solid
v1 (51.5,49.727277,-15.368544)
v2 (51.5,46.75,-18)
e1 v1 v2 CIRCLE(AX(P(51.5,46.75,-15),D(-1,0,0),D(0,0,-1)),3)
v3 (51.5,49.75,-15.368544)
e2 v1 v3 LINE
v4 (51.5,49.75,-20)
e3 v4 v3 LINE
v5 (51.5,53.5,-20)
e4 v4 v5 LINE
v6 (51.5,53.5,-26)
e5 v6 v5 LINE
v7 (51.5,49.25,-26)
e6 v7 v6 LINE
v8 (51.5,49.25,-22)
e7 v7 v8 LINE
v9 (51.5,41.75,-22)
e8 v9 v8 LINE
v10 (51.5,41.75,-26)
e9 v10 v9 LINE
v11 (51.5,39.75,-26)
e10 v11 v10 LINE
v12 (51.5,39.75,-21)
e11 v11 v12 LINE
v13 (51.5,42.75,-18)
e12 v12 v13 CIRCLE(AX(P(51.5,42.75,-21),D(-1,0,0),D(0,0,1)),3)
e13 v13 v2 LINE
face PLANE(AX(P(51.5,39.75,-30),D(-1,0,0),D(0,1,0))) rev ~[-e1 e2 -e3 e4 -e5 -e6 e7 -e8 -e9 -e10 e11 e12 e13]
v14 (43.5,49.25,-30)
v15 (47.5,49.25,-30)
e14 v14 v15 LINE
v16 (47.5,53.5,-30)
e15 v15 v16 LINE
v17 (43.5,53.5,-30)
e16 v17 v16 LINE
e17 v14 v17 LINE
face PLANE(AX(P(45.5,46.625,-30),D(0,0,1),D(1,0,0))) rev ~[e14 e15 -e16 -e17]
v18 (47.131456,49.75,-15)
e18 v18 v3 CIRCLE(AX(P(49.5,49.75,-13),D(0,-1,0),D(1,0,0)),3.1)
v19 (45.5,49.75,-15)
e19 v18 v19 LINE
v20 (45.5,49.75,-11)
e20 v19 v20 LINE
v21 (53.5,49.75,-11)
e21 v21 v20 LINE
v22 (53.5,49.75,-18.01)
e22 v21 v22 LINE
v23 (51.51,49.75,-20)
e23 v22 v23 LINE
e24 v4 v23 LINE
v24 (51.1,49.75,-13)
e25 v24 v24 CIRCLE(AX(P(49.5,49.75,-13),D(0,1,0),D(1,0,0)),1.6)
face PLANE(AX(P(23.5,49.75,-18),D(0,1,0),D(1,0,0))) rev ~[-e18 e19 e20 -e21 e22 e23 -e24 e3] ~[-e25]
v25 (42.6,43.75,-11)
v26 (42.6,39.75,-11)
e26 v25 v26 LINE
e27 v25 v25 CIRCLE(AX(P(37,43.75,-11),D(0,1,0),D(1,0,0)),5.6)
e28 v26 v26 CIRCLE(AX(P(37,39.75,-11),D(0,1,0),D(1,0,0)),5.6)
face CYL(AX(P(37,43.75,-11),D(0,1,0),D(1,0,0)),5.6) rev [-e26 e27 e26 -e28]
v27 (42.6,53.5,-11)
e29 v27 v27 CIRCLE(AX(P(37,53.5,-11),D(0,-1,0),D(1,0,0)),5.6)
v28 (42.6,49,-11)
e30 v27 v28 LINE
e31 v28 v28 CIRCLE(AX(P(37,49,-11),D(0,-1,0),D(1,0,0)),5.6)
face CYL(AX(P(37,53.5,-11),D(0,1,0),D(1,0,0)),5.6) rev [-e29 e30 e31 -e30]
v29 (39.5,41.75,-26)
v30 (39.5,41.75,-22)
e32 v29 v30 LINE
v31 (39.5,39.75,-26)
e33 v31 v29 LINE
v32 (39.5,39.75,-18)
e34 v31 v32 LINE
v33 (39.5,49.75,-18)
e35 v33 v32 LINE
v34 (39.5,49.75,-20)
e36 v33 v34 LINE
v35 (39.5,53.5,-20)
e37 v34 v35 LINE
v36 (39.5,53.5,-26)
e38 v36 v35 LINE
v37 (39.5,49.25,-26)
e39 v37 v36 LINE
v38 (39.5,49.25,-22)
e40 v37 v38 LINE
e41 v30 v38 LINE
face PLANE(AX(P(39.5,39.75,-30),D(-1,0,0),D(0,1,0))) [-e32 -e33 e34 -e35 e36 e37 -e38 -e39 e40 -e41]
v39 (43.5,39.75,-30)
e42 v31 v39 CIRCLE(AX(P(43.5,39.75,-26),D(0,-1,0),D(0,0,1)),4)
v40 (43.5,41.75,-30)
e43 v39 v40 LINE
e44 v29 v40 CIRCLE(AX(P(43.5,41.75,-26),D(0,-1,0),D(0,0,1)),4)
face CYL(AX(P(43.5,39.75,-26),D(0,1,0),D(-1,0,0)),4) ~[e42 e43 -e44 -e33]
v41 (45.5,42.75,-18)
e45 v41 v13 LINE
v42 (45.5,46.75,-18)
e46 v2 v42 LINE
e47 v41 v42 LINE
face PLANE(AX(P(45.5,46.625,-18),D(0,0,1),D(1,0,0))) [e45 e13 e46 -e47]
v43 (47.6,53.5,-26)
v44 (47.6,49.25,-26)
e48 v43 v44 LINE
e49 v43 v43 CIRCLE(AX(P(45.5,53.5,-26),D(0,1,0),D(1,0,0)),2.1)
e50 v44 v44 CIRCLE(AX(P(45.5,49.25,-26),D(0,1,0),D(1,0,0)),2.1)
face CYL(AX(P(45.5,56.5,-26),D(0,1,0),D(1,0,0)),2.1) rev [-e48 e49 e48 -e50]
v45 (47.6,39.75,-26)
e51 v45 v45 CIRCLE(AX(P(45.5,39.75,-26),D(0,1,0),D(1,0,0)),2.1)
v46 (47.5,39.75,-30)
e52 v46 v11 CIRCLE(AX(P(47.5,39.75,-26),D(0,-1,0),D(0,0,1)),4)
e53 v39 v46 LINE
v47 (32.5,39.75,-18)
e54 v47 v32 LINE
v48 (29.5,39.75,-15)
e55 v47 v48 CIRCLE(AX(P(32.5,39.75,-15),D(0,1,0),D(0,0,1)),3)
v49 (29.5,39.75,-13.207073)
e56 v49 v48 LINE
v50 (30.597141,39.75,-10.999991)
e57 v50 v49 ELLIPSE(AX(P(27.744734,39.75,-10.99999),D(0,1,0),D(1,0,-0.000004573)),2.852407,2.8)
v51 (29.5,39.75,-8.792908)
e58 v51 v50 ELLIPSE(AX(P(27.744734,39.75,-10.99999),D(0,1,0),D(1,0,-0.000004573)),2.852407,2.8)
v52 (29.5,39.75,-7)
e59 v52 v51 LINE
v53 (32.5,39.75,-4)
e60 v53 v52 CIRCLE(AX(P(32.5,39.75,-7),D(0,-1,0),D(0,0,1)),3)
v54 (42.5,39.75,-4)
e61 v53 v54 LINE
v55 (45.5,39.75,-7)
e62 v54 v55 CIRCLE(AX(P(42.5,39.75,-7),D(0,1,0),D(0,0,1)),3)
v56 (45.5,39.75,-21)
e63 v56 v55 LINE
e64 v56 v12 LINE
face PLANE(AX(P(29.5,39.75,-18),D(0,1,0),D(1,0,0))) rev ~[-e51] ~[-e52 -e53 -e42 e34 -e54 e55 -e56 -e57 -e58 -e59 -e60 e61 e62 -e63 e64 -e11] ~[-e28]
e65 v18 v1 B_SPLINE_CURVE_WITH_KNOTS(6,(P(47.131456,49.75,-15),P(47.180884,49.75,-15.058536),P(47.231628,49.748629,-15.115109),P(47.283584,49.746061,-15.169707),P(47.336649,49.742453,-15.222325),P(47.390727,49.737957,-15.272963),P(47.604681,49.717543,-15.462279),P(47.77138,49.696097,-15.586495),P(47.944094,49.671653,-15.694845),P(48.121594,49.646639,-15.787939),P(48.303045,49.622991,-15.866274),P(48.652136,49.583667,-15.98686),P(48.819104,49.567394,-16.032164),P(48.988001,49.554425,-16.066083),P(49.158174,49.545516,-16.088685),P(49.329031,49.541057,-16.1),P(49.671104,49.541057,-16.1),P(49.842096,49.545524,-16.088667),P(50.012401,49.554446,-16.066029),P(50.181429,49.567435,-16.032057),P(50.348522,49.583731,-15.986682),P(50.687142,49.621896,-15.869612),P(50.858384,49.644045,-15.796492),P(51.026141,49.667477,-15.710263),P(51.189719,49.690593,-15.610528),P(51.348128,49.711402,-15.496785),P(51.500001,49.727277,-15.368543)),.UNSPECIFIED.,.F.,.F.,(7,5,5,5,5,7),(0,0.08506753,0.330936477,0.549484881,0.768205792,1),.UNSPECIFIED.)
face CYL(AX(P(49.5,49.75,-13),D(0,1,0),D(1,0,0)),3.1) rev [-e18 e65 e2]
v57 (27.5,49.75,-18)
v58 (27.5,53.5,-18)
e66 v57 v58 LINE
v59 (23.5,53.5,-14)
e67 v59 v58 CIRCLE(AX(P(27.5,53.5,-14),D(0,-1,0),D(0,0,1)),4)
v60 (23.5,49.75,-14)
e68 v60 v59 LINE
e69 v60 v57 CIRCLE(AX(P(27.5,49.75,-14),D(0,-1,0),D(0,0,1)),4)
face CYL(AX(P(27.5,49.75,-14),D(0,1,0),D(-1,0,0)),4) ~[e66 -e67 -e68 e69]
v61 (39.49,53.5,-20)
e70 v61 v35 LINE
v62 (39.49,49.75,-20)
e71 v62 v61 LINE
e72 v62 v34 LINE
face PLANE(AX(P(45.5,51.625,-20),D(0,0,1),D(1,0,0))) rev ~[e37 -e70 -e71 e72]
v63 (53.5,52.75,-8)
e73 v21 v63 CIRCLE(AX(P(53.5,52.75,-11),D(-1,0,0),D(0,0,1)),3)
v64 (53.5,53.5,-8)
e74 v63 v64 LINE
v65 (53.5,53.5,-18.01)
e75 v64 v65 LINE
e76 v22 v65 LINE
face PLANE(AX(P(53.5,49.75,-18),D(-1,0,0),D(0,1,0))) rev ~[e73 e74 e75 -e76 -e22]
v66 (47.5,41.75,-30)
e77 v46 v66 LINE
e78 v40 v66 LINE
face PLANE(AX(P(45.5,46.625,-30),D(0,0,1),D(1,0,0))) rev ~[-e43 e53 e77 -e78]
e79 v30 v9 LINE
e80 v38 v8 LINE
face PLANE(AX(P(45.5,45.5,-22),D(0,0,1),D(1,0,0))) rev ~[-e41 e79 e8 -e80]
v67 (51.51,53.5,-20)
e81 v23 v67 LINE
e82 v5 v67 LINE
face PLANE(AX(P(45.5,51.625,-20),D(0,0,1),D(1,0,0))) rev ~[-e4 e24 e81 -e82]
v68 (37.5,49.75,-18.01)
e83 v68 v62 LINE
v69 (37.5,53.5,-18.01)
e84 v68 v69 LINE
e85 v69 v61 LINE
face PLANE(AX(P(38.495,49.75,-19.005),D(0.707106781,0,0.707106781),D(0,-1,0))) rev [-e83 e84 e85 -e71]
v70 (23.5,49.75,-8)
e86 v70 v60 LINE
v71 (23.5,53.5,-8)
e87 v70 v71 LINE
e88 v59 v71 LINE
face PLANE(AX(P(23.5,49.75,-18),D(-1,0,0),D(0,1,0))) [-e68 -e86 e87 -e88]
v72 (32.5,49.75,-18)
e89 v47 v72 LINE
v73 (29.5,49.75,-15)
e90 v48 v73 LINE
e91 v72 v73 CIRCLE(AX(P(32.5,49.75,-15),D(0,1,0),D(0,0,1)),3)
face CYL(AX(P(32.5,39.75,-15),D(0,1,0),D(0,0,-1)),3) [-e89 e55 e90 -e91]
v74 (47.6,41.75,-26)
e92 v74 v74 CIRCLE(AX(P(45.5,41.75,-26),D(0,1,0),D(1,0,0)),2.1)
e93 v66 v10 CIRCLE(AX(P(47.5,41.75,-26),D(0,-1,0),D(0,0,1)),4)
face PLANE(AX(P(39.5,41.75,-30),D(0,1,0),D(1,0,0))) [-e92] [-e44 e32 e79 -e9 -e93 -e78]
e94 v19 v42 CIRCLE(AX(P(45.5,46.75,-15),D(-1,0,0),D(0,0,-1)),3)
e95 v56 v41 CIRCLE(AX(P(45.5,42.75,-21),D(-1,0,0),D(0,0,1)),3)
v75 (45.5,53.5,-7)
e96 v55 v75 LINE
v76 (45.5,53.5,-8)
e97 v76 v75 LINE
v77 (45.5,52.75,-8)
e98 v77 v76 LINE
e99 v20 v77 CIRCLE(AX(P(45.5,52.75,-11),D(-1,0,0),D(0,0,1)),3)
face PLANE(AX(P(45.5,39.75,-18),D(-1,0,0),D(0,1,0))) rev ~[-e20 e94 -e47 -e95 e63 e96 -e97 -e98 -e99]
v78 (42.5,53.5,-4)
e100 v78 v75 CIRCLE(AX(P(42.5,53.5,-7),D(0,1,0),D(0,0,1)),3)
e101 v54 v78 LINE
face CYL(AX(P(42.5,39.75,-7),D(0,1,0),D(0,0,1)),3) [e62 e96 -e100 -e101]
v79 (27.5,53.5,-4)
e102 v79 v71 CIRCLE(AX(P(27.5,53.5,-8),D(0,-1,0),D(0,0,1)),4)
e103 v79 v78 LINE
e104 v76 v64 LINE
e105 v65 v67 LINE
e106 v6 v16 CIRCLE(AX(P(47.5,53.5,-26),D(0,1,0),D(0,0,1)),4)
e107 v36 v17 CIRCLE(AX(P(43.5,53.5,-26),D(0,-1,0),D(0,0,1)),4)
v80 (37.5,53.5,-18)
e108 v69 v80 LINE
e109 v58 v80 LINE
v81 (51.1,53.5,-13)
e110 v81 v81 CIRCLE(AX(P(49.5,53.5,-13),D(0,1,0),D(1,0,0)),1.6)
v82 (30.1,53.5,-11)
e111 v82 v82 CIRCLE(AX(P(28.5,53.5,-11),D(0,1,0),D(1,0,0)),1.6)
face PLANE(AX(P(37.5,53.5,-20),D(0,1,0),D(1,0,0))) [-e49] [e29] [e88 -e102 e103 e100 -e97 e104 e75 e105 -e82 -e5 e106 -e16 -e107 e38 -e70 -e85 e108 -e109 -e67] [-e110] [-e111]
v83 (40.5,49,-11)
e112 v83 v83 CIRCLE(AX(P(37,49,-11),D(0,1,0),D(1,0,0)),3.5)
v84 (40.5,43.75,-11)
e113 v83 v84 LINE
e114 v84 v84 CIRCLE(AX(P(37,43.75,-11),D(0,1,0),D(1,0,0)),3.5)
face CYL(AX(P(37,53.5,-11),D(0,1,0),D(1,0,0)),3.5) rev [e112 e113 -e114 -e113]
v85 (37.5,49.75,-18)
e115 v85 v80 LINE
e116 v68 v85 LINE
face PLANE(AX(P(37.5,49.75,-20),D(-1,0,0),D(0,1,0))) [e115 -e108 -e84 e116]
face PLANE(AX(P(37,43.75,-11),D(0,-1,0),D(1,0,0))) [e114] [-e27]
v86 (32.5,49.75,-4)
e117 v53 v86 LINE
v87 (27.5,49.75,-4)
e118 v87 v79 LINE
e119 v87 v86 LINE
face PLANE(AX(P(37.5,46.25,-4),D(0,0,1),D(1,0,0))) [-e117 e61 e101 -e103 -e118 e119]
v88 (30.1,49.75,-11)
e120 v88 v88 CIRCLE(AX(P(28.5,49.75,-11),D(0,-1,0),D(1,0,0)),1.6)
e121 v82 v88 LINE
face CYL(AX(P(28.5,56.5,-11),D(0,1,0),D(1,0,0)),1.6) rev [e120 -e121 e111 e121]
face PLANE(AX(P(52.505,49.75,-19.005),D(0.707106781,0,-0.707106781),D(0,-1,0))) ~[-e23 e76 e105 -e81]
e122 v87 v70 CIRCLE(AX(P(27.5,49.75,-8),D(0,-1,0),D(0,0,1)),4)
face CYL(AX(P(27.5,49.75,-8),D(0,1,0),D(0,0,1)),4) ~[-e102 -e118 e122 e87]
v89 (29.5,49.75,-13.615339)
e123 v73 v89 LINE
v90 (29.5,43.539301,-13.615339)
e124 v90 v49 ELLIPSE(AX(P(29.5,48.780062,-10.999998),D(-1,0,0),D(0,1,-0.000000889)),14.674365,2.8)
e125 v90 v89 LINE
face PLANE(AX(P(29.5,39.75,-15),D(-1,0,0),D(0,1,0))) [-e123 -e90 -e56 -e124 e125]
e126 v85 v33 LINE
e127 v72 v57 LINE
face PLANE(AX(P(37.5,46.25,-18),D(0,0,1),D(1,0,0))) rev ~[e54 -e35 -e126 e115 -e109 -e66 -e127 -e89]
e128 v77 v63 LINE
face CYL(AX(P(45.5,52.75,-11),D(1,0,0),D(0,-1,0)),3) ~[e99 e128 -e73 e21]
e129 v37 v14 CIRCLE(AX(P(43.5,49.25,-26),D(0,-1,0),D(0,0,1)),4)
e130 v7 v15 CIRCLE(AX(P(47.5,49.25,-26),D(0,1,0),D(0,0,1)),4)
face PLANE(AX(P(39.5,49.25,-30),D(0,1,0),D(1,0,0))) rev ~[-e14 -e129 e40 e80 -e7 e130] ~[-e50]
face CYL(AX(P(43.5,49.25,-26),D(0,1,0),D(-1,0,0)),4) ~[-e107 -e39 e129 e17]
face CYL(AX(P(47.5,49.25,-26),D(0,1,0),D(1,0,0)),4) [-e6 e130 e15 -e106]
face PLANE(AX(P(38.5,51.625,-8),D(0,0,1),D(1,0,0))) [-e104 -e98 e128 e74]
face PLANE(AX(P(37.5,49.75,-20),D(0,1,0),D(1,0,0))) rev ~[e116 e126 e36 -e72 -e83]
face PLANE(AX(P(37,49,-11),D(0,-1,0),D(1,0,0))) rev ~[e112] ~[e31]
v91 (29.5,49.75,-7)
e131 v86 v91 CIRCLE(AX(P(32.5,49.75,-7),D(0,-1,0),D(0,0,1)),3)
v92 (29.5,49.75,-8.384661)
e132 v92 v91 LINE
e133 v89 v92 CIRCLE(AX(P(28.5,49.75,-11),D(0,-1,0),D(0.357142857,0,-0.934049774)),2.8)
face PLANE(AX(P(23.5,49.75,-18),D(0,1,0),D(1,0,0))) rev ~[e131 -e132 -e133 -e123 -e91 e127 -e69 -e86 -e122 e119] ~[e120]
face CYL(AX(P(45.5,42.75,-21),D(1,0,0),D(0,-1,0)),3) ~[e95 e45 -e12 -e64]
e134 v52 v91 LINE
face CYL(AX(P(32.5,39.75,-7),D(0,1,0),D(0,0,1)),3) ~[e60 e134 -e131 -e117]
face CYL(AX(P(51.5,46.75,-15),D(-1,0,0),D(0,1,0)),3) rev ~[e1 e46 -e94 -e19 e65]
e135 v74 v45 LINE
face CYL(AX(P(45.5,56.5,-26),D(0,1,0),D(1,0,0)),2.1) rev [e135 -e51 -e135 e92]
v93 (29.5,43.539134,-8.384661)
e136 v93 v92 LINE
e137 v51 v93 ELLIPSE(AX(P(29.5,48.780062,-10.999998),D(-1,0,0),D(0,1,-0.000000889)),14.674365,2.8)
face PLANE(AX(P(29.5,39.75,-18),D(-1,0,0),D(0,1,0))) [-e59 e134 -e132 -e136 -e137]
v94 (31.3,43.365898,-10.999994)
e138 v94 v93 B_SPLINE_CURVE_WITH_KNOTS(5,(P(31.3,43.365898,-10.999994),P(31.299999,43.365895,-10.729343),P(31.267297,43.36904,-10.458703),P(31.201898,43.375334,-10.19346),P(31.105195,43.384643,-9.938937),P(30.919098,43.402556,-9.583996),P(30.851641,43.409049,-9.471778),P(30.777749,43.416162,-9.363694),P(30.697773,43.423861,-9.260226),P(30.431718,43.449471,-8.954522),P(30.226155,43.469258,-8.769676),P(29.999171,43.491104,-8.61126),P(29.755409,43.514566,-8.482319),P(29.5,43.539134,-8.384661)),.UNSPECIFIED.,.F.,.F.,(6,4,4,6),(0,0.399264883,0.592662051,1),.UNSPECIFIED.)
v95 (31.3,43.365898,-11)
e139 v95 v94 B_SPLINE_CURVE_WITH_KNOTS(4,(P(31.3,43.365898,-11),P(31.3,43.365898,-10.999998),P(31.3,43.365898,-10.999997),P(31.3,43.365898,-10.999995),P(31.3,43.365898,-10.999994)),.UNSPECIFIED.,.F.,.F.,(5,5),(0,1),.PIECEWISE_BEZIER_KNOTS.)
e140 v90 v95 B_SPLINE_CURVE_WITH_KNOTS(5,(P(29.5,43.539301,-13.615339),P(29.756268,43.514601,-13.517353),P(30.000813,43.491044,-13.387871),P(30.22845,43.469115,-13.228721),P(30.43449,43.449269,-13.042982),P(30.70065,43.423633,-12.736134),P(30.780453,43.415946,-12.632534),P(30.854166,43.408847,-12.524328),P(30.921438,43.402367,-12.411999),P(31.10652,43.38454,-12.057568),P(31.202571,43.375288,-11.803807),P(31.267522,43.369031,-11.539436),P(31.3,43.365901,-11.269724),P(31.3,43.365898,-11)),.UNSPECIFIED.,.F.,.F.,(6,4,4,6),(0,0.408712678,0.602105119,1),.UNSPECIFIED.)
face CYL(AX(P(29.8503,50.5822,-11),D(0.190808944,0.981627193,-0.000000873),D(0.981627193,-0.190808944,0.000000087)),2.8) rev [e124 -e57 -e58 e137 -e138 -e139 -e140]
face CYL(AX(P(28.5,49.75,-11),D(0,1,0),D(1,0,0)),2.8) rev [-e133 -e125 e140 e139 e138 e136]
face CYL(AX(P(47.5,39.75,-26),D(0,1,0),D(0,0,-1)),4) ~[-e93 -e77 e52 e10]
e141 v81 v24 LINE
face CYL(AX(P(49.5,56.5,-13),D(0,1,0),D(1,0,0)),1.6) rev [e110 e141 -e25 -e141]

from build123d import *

# Parameters (mm, degrees)
CYLINDER873_R               = 3.1
CYLINDER873_DEPTH           = 5
CYLINDER873_ROLL_ANGLE      = 90
CYLINDER872_R               = 5.6
CYLINDER872_DEPTH           = 4.5
CYLINDER872_ROLL_ANGLE      = 90
CYLINDER871_R               = 5.6
CYLINDER871_DEPTH           = 4
CYLINDER871_ROLL_ANGLE      = 90
CYLINDER870_R               = 3.5
CYLINDER870_DEPTH           = 14
CYLINDER870_ROLL_ANGLE      = 90
CYLINDER866_R               = 1.6
CYLINDER866_DEPTH           = 20
CYLINDER866_ROLL_ANGLE      = 90
CYLINDER869_R               = 2.1
CYLINDER869_DEPTH           = 20
CYLINDER869_ROLL_ANGLE      = 90
CYLINDER868_R               = 1.6
CYLINDER868_DEPTH           = 6.75
CYLINDER868_ROLL_ANGLE      = 90
CYLINDER867_R               = 2.8
CYLINDER867_DEPTH           = 10
CYLINDER867_ROLL_ANGLE      = 90
BOX542_W                    = 16
BOX542_H                    = 13
BOX542_DEPTH                = 14
BOX539_W                    = 12
BOX539_H                    = 7.5
BOX539_DEPTH                = 8
BOX538_W                    = 12
BOX538_H                    = 13.75
BOX538_DEPTH                = 12
BOX540_W                    = 30
BOX540_H                    = 3.75
BOX540_DEPTH                = 10
BOX541_W                    = 22
BOX541_H                    = 3.75
BOX541_DEPTH                = 14
FILLET352_R                 = 4
FILLET353_R                 = 3
FILLET354_R                 = 3
FILLET355_R                 = 4
FILLET356_R                 = 3
BOX543_W                    = 16
BOX543_H                    = 3.75
BOX543_DEPTH                = 2
CHAMFER102_SIZE             = 1.99
CYLINDER877_R               = 2.8
CYLINDER877_DEPTH           = 11
CYLINDER877_ROLL_ANGLE      = 89.99995
CYLINDER877_PITCH_ANGLE     = -5e-06
CYLINDER877_PLACEMENT_ANGLE = -10.999997
BOX545_W                    = 1.9
BOX545_H                    = 10
BOX545_DEPTH                = 8


with BuildPart() as cylinder1034:
    # Cylinder873 → Cylinder873 (new body)
    with BuildSketch(Plane.XY):
        Circle(CYLINDER873_R)
    extrude(amount=CYLINDER873_DEPTH)


with BuildPart() as cylinder1034_1:
    # Cylinder873 roll: moved
    add(cylinder1034.part.rotate(Axis((0, 0, 0), (1, 0, 0)), CYLINDER873_ROLL_ANGLE))


with BuildPart() as cylinder1034_2:
    # Cylinder873 placement: moved
    add(cylinder1034_1.part.moved(Location((49.5, 49.75, -13))))


with BuildPart() as cylinder1033:
    # Cylinder872 → Cylinder872 (new body)
    with BuildSketch(Plane.XY):
        Circle(CYLINDER872_R)
    extrude(amount=CYLINDER872_DEPTH)


with BuildPart() as cylinder1033_1:
    # Cylinder872 roll: moved
    add(cylinder1033.part.rotate(Axis((0, 0, 0), (1, 0, 0)), CYLINDER872_ROLL_ANGLE))


with BuildPart() as cylinder1033_2:
    # Cylinder872 placement: moved
    add(cylinder1033_1.part.moved(Location((38, 53.5, -11))))


with BuildPart() as cylinder1032:
    # Cylinder871 → Cylinder871 (new body)
    with BuildSketch(Plane.XY):
        Circle(CYLINDER871_R)
    extrude(amount=CYLINDER871_DEPTH)


with BuildPart() as cylinder1032_1:
    # Cylinder871 roll: moved
    add(cylinder1032.part.rotate(Axis((0, 0, 0), (1, 0, 0)), CYLINDER871_ROLL_ANGLE))


with BuildPart() as cylinder1032_2:
    # Cylinder871 placement: moved
    add(cylinder1032_1.part.moved(Location((38, 43.75, -11))))


with BuildPart() as fusion560:
    # Cylinder870 → Cylinder870 (new body)
    with BuildSketch(Plane.XY):
        Circle(CYLINDER870_R)
    extrude(amount=CYLINDER870_DEPTH)


with BuildPart() as fusion560_1:
    # Cylinder870 roll: moved
    add(fusion560.part.rotate(Axis((0, 0, 0), (1, 0, 0)), CYLINDER870_ROLL_ANGLE))


with BuildPart() as fusion560_2:
    # Cylinder870 placement: moved
    add(fusion560_1.part.moved(Location((38, 53.5, -11))))

    # Fusion560: union Cylinder1033, Cylinder1032
    add(cylinder1033_2.part)
    add(cylinder1032_2.part)


with BuildPart() as fusion560_3:
    # Fusion560 placement: moved
    add(fusion560_2.part.moved(Location((-1, 0, 0))))


with BuildPart() as cylinder1027:
    # Cylinder866 → Cylinder866 (new body)
    with BuildSketch(Plane.XY):
        Circle(CYLINDER866_R)
    extrude(amount=CYLINDER866_DEPTH)


with BuildPart() as cylinder1027_1:
    # Cylinder866 roll: moved
    add(cylinder1027.part.rotate(Axis((0, 0, 0), (1, 0, 0)), CYLINDER866_ROLL_ANGLE))


with BuildPart() as cylinder1027_2:
    # Cylinder866 placement: moved
    add(cylinder1027_1.part.moved(Location((49.5, 56.5, -13))))


with BuildPart() as cylinder1030:
    # Cylinder869 → Cylinder869 (new body)
    with BuildSketch(Plane.XY):
        Circle(CYLINDER869_R)
    extrude(amount=CYLINDER869_DEPTH)


with BuildPart() as cylinder1030_1:
    # Cylinder869 roll: moved
    add(cylinder1030.part.rotate(Axis((0, 0, 0), (1, 0, 0)), CYLINDER869_ROLL_ANGLE))


with BuildPart() as cylinder1030_2:
    # Cylinder869 placement: moved
    add(cylinder1030_1.part.moved(Location((45.5, 56.5, -26))))


with BuildPart() as fusion559:
    # Cylinder868 → Cylinder868 (new body)
    with BuildSketch(Plane.XY):
        Circle(CYLINDER868_R)
    extrude(amount=CYLINDER868_DEPTH)


with BuildPart() as fusion559_1:
    # Cylinder868 roll: moved
    add(fusion559.part.rotate(Axis((0, 0, 0), (1, 0, 0)), CYLINDER868_ROLL_ANGLE))


with BuildPart() as fusion559_2:
    # Cylinder868 placement: moved
    add(fusion559_1.part.moved(Location((28.5, 56.5, -11))))

    # Fusion559: union Cylinder1027, Cylinder1030
    add(cylinder1027_2.part)
    add(cylinder1030_2.part)


with BuildPart() as cylinder1028:
    # Cylinder867 → Cylinder867 (new body)
    with BuildSketch(Plane.XY):
        Circle(CYLINDER867_R)
    extrude(amount=CYLINDER867_DEPTH)


with BuildPart() as cylinder1028_1:
    # Cylinder867 roll: moved
    add(cylinder1028.part.rotate(Axis((0, 0, 0), (1, 0, 0)), CYLINDER867_ROLL_ANGLE))


with BuildPart() as cylinder1028_2:
    # Cylinder867 placement: moved
    add(cylinder1028_1.part.moved(Location((28.5, 49.75, -11))))


with BuildPart() as cube733:
    # Box542 → Box542 (new body)
    with BuildSketch(Plane(origin=(29.5, 39.75, -18), x_dir=(1, 0, 0), z_dir=(0, 0, 1))):
        with Locations((8, 6.5)):
            Rectangle(BOX542_W, BOX542_H)
    extrude(amount=BOX542_DEPTH)


with BuildPart() as cube730:
    # Box539 → Box539 (new body)
    with BuildSketch(Plane(origin=(389.5, 41.75, -32), x_dir=(1, 0, 0), z_dir=(0, 0, 1))):
        with Locations((6, 3.75)):
            Rectangle(BOX539_W, BOX539_H)
    extrude(amount=BOX539_DEPTH)


with BuildPart() as cut892:
    # Box538 → Box538 (new body)
    with BuildSketch(Plane(origin=(389.5, 39.75, -32), x_dir=(1, 0, 0), z_dir=(0, 0, 1))):
        with Locations((6, 6.875)):
            Rectangle(BOX538_W, BOX538_H)
    extrude(amount=BOX538_DEPTH)

    # Cut663: cut Cube730
    add(cube730.part, mode=Mode.SUBTRACT)


with BuildPart() as fusion556:
    # Box540 → Box540 (new body)
    with BuildSketch(Plane(origin=(373.5, 49.75, -20), x_dir=(1, 0, 0), z_dir=(0, 0, 1))):
        with Locations((15, 1.875)):
            Rectangle(BOX540_W, BOX540_H)
    extrude(amount=BOX540_DEPTH)

    # Fusion556: union Cut892
    add(cut892.part)


with BuildPart() as fusion556_1:
    # Fusion556 placement: moved
    add(fusion556.part.moved(Location((-350, 0, 2))))


with BuildPart() as fillet356:
    # Box541 → Box541 (new body)
    with BuildSketch(Plane(origin=(23.5, 49.75, -18), x_dir=(1, 0, 0), z_dir=(0, 0, 1))):
        with Locations((11, 1.875)):
            Rectangle(BOX541_W, BOX541_H)
    extrude(amount=BOX541_DEPTH)

    # Fusion557: union Fusion556
    add(fusion556_1.part)

    # Fusion558: union Cube733
    add(cube733.part)

    # Cut664: cut Cylinder1028
    add(cylinder1028_2.part, mode=Mode.SUBTRACT)

    # Cut665: cut Fusion559
    add(fusion559_2.part, mode=Mode.SUBTRACT)

    # Cut666: cut Fusion560
    add(fusion560_3.part, mode=Mode.SUBTRACT)

    # Fillet352
    fillet352_edges = [fillet356.edges().sort_by_distance(p)[0] for p in [
        (51.5, 40.75, -30),
        (51.5, 51.375, -30),
        (39.5, 40.75, -30),
        (39.5, 51.375, -30),
    ]]
    fillet(fillet352_edges, radius=FILLET352_R)

    # Fillet353
    fillet353_edges = [fillet356.edges().sort_by_distance(p)[0] for p in [
        (49.5, 49.75, -8),
        (48.5, 39.75, -18),
    ]]
    fillet(fillet353_edges, radius=FILLET353_R)

    # Fillet354
    fillet354_edges = [fillet356.edges().sort_by_distance(p)[0] for p in [
        (48.5, 49.75, -18),
    ]]
    fillet(fillet354_edges, radius=FILLET354_R)

    # Cut667: cut Cylinder1034
    add(cylinder1034_2.part, mode=Mode.SUBTRACT)

    # Fillet355
    fillet355_edges = [fillet356.edges().sort_by_distance(p)[0] for p in [
        (23.5, 51.625, -18),
        (23.5, 51.625, -4),
    ]]
    fillet(fillet355_edges, radius=FILLET355_R)

    # Fillet356
    fillet356_edges = [fillet356.edges().sort_by_distance(p)[0] for p in [
        (29.5, 44.75, -18),
        (45.5, 46.625, -4),
        (29.5, 44.75, -4),
    ]]
    fillet(fillet356_edges, radius=FILLET356_R)


with BuildPart() as chamfer102:
    # Box543 → Box543 (new body)
    with BuildSketch(Plane(origin=(37.5, 49.75, -20), x_dir=(1, 0, 0), z_dir=(0, 0, 1))):
        with Locations((8, 1.875)):
            Rectangle(BOX543_W, BOX543_H)
    extrude(amount=BOX543_DEPTH)

    # Chamfer102
    chamfer102_edges = [chamfer102.edges().sort_by_distance(p)[0] for p in [
        (37.5, 51.625, -20),
        (53.5, 51.625, -20),
    ]]
    chamfer(chamfer102_edges, length=CHAMFER102_SIZE)


with BuildPart() as cylinder1038:
    # Cylinder877 → Cylinder877 (new body)
    with BuildSketch(Plane.XY):
        Circle(CYLINDER877_R)
    extrude(amount=CYLINDER877_DEPTH)


with BuildPart() as cylinder1038_1:
    # Cylinder877 roll: moved
    add(cylinder1038.part.rotate(Axis((0, 0, 0), (1, 0, 0)), CYLINDER877_ROLL_ANGLE))


with BuildPart() as cylinder1038_2:
    # Cylinder877 pitch: moved
    add(cylinder1038_1.part.rotate(Axis((0, 0, 0), (0, 1, 0)), CYLINDER877_PITCH_ANGLE))


with BuildPart() as cylinder1038_3:
    # Cylinder877 placement: moved
    add(cylinder1038_2.part.moved(Location((29.8503, 50.5822, -11))).rotate(Axis((29.8503, 50.5822, -11), (0, 0, 1)), CYLINDER877_PLACEMENT_ANGLE))


with BuildPart() as leafspring_mount_front_left_int_servo:
    # Box545 → Box545 (new body)
    with BuildSketch(Plane(origin=(29.5, 39.75, -15), x_dir=(1, 0, 0), z_dir=(0, 0, 1))):
        with Locations((0.95, 5)):
            Rectangle(BOX545_W, BOX545_H)
    extrude(amount=BOX545_DEPTH)

    # Cut669: cut Cylinder1038
    add(cylinder1038_3.part, mode=Mode.SUBTRACT)

    # Fusion563: union Fillet356, Chamfer102
    add(fillet356.part)
    add(chamfer102.part)


solid = leafspring_mount_front_left_int_servo.part
